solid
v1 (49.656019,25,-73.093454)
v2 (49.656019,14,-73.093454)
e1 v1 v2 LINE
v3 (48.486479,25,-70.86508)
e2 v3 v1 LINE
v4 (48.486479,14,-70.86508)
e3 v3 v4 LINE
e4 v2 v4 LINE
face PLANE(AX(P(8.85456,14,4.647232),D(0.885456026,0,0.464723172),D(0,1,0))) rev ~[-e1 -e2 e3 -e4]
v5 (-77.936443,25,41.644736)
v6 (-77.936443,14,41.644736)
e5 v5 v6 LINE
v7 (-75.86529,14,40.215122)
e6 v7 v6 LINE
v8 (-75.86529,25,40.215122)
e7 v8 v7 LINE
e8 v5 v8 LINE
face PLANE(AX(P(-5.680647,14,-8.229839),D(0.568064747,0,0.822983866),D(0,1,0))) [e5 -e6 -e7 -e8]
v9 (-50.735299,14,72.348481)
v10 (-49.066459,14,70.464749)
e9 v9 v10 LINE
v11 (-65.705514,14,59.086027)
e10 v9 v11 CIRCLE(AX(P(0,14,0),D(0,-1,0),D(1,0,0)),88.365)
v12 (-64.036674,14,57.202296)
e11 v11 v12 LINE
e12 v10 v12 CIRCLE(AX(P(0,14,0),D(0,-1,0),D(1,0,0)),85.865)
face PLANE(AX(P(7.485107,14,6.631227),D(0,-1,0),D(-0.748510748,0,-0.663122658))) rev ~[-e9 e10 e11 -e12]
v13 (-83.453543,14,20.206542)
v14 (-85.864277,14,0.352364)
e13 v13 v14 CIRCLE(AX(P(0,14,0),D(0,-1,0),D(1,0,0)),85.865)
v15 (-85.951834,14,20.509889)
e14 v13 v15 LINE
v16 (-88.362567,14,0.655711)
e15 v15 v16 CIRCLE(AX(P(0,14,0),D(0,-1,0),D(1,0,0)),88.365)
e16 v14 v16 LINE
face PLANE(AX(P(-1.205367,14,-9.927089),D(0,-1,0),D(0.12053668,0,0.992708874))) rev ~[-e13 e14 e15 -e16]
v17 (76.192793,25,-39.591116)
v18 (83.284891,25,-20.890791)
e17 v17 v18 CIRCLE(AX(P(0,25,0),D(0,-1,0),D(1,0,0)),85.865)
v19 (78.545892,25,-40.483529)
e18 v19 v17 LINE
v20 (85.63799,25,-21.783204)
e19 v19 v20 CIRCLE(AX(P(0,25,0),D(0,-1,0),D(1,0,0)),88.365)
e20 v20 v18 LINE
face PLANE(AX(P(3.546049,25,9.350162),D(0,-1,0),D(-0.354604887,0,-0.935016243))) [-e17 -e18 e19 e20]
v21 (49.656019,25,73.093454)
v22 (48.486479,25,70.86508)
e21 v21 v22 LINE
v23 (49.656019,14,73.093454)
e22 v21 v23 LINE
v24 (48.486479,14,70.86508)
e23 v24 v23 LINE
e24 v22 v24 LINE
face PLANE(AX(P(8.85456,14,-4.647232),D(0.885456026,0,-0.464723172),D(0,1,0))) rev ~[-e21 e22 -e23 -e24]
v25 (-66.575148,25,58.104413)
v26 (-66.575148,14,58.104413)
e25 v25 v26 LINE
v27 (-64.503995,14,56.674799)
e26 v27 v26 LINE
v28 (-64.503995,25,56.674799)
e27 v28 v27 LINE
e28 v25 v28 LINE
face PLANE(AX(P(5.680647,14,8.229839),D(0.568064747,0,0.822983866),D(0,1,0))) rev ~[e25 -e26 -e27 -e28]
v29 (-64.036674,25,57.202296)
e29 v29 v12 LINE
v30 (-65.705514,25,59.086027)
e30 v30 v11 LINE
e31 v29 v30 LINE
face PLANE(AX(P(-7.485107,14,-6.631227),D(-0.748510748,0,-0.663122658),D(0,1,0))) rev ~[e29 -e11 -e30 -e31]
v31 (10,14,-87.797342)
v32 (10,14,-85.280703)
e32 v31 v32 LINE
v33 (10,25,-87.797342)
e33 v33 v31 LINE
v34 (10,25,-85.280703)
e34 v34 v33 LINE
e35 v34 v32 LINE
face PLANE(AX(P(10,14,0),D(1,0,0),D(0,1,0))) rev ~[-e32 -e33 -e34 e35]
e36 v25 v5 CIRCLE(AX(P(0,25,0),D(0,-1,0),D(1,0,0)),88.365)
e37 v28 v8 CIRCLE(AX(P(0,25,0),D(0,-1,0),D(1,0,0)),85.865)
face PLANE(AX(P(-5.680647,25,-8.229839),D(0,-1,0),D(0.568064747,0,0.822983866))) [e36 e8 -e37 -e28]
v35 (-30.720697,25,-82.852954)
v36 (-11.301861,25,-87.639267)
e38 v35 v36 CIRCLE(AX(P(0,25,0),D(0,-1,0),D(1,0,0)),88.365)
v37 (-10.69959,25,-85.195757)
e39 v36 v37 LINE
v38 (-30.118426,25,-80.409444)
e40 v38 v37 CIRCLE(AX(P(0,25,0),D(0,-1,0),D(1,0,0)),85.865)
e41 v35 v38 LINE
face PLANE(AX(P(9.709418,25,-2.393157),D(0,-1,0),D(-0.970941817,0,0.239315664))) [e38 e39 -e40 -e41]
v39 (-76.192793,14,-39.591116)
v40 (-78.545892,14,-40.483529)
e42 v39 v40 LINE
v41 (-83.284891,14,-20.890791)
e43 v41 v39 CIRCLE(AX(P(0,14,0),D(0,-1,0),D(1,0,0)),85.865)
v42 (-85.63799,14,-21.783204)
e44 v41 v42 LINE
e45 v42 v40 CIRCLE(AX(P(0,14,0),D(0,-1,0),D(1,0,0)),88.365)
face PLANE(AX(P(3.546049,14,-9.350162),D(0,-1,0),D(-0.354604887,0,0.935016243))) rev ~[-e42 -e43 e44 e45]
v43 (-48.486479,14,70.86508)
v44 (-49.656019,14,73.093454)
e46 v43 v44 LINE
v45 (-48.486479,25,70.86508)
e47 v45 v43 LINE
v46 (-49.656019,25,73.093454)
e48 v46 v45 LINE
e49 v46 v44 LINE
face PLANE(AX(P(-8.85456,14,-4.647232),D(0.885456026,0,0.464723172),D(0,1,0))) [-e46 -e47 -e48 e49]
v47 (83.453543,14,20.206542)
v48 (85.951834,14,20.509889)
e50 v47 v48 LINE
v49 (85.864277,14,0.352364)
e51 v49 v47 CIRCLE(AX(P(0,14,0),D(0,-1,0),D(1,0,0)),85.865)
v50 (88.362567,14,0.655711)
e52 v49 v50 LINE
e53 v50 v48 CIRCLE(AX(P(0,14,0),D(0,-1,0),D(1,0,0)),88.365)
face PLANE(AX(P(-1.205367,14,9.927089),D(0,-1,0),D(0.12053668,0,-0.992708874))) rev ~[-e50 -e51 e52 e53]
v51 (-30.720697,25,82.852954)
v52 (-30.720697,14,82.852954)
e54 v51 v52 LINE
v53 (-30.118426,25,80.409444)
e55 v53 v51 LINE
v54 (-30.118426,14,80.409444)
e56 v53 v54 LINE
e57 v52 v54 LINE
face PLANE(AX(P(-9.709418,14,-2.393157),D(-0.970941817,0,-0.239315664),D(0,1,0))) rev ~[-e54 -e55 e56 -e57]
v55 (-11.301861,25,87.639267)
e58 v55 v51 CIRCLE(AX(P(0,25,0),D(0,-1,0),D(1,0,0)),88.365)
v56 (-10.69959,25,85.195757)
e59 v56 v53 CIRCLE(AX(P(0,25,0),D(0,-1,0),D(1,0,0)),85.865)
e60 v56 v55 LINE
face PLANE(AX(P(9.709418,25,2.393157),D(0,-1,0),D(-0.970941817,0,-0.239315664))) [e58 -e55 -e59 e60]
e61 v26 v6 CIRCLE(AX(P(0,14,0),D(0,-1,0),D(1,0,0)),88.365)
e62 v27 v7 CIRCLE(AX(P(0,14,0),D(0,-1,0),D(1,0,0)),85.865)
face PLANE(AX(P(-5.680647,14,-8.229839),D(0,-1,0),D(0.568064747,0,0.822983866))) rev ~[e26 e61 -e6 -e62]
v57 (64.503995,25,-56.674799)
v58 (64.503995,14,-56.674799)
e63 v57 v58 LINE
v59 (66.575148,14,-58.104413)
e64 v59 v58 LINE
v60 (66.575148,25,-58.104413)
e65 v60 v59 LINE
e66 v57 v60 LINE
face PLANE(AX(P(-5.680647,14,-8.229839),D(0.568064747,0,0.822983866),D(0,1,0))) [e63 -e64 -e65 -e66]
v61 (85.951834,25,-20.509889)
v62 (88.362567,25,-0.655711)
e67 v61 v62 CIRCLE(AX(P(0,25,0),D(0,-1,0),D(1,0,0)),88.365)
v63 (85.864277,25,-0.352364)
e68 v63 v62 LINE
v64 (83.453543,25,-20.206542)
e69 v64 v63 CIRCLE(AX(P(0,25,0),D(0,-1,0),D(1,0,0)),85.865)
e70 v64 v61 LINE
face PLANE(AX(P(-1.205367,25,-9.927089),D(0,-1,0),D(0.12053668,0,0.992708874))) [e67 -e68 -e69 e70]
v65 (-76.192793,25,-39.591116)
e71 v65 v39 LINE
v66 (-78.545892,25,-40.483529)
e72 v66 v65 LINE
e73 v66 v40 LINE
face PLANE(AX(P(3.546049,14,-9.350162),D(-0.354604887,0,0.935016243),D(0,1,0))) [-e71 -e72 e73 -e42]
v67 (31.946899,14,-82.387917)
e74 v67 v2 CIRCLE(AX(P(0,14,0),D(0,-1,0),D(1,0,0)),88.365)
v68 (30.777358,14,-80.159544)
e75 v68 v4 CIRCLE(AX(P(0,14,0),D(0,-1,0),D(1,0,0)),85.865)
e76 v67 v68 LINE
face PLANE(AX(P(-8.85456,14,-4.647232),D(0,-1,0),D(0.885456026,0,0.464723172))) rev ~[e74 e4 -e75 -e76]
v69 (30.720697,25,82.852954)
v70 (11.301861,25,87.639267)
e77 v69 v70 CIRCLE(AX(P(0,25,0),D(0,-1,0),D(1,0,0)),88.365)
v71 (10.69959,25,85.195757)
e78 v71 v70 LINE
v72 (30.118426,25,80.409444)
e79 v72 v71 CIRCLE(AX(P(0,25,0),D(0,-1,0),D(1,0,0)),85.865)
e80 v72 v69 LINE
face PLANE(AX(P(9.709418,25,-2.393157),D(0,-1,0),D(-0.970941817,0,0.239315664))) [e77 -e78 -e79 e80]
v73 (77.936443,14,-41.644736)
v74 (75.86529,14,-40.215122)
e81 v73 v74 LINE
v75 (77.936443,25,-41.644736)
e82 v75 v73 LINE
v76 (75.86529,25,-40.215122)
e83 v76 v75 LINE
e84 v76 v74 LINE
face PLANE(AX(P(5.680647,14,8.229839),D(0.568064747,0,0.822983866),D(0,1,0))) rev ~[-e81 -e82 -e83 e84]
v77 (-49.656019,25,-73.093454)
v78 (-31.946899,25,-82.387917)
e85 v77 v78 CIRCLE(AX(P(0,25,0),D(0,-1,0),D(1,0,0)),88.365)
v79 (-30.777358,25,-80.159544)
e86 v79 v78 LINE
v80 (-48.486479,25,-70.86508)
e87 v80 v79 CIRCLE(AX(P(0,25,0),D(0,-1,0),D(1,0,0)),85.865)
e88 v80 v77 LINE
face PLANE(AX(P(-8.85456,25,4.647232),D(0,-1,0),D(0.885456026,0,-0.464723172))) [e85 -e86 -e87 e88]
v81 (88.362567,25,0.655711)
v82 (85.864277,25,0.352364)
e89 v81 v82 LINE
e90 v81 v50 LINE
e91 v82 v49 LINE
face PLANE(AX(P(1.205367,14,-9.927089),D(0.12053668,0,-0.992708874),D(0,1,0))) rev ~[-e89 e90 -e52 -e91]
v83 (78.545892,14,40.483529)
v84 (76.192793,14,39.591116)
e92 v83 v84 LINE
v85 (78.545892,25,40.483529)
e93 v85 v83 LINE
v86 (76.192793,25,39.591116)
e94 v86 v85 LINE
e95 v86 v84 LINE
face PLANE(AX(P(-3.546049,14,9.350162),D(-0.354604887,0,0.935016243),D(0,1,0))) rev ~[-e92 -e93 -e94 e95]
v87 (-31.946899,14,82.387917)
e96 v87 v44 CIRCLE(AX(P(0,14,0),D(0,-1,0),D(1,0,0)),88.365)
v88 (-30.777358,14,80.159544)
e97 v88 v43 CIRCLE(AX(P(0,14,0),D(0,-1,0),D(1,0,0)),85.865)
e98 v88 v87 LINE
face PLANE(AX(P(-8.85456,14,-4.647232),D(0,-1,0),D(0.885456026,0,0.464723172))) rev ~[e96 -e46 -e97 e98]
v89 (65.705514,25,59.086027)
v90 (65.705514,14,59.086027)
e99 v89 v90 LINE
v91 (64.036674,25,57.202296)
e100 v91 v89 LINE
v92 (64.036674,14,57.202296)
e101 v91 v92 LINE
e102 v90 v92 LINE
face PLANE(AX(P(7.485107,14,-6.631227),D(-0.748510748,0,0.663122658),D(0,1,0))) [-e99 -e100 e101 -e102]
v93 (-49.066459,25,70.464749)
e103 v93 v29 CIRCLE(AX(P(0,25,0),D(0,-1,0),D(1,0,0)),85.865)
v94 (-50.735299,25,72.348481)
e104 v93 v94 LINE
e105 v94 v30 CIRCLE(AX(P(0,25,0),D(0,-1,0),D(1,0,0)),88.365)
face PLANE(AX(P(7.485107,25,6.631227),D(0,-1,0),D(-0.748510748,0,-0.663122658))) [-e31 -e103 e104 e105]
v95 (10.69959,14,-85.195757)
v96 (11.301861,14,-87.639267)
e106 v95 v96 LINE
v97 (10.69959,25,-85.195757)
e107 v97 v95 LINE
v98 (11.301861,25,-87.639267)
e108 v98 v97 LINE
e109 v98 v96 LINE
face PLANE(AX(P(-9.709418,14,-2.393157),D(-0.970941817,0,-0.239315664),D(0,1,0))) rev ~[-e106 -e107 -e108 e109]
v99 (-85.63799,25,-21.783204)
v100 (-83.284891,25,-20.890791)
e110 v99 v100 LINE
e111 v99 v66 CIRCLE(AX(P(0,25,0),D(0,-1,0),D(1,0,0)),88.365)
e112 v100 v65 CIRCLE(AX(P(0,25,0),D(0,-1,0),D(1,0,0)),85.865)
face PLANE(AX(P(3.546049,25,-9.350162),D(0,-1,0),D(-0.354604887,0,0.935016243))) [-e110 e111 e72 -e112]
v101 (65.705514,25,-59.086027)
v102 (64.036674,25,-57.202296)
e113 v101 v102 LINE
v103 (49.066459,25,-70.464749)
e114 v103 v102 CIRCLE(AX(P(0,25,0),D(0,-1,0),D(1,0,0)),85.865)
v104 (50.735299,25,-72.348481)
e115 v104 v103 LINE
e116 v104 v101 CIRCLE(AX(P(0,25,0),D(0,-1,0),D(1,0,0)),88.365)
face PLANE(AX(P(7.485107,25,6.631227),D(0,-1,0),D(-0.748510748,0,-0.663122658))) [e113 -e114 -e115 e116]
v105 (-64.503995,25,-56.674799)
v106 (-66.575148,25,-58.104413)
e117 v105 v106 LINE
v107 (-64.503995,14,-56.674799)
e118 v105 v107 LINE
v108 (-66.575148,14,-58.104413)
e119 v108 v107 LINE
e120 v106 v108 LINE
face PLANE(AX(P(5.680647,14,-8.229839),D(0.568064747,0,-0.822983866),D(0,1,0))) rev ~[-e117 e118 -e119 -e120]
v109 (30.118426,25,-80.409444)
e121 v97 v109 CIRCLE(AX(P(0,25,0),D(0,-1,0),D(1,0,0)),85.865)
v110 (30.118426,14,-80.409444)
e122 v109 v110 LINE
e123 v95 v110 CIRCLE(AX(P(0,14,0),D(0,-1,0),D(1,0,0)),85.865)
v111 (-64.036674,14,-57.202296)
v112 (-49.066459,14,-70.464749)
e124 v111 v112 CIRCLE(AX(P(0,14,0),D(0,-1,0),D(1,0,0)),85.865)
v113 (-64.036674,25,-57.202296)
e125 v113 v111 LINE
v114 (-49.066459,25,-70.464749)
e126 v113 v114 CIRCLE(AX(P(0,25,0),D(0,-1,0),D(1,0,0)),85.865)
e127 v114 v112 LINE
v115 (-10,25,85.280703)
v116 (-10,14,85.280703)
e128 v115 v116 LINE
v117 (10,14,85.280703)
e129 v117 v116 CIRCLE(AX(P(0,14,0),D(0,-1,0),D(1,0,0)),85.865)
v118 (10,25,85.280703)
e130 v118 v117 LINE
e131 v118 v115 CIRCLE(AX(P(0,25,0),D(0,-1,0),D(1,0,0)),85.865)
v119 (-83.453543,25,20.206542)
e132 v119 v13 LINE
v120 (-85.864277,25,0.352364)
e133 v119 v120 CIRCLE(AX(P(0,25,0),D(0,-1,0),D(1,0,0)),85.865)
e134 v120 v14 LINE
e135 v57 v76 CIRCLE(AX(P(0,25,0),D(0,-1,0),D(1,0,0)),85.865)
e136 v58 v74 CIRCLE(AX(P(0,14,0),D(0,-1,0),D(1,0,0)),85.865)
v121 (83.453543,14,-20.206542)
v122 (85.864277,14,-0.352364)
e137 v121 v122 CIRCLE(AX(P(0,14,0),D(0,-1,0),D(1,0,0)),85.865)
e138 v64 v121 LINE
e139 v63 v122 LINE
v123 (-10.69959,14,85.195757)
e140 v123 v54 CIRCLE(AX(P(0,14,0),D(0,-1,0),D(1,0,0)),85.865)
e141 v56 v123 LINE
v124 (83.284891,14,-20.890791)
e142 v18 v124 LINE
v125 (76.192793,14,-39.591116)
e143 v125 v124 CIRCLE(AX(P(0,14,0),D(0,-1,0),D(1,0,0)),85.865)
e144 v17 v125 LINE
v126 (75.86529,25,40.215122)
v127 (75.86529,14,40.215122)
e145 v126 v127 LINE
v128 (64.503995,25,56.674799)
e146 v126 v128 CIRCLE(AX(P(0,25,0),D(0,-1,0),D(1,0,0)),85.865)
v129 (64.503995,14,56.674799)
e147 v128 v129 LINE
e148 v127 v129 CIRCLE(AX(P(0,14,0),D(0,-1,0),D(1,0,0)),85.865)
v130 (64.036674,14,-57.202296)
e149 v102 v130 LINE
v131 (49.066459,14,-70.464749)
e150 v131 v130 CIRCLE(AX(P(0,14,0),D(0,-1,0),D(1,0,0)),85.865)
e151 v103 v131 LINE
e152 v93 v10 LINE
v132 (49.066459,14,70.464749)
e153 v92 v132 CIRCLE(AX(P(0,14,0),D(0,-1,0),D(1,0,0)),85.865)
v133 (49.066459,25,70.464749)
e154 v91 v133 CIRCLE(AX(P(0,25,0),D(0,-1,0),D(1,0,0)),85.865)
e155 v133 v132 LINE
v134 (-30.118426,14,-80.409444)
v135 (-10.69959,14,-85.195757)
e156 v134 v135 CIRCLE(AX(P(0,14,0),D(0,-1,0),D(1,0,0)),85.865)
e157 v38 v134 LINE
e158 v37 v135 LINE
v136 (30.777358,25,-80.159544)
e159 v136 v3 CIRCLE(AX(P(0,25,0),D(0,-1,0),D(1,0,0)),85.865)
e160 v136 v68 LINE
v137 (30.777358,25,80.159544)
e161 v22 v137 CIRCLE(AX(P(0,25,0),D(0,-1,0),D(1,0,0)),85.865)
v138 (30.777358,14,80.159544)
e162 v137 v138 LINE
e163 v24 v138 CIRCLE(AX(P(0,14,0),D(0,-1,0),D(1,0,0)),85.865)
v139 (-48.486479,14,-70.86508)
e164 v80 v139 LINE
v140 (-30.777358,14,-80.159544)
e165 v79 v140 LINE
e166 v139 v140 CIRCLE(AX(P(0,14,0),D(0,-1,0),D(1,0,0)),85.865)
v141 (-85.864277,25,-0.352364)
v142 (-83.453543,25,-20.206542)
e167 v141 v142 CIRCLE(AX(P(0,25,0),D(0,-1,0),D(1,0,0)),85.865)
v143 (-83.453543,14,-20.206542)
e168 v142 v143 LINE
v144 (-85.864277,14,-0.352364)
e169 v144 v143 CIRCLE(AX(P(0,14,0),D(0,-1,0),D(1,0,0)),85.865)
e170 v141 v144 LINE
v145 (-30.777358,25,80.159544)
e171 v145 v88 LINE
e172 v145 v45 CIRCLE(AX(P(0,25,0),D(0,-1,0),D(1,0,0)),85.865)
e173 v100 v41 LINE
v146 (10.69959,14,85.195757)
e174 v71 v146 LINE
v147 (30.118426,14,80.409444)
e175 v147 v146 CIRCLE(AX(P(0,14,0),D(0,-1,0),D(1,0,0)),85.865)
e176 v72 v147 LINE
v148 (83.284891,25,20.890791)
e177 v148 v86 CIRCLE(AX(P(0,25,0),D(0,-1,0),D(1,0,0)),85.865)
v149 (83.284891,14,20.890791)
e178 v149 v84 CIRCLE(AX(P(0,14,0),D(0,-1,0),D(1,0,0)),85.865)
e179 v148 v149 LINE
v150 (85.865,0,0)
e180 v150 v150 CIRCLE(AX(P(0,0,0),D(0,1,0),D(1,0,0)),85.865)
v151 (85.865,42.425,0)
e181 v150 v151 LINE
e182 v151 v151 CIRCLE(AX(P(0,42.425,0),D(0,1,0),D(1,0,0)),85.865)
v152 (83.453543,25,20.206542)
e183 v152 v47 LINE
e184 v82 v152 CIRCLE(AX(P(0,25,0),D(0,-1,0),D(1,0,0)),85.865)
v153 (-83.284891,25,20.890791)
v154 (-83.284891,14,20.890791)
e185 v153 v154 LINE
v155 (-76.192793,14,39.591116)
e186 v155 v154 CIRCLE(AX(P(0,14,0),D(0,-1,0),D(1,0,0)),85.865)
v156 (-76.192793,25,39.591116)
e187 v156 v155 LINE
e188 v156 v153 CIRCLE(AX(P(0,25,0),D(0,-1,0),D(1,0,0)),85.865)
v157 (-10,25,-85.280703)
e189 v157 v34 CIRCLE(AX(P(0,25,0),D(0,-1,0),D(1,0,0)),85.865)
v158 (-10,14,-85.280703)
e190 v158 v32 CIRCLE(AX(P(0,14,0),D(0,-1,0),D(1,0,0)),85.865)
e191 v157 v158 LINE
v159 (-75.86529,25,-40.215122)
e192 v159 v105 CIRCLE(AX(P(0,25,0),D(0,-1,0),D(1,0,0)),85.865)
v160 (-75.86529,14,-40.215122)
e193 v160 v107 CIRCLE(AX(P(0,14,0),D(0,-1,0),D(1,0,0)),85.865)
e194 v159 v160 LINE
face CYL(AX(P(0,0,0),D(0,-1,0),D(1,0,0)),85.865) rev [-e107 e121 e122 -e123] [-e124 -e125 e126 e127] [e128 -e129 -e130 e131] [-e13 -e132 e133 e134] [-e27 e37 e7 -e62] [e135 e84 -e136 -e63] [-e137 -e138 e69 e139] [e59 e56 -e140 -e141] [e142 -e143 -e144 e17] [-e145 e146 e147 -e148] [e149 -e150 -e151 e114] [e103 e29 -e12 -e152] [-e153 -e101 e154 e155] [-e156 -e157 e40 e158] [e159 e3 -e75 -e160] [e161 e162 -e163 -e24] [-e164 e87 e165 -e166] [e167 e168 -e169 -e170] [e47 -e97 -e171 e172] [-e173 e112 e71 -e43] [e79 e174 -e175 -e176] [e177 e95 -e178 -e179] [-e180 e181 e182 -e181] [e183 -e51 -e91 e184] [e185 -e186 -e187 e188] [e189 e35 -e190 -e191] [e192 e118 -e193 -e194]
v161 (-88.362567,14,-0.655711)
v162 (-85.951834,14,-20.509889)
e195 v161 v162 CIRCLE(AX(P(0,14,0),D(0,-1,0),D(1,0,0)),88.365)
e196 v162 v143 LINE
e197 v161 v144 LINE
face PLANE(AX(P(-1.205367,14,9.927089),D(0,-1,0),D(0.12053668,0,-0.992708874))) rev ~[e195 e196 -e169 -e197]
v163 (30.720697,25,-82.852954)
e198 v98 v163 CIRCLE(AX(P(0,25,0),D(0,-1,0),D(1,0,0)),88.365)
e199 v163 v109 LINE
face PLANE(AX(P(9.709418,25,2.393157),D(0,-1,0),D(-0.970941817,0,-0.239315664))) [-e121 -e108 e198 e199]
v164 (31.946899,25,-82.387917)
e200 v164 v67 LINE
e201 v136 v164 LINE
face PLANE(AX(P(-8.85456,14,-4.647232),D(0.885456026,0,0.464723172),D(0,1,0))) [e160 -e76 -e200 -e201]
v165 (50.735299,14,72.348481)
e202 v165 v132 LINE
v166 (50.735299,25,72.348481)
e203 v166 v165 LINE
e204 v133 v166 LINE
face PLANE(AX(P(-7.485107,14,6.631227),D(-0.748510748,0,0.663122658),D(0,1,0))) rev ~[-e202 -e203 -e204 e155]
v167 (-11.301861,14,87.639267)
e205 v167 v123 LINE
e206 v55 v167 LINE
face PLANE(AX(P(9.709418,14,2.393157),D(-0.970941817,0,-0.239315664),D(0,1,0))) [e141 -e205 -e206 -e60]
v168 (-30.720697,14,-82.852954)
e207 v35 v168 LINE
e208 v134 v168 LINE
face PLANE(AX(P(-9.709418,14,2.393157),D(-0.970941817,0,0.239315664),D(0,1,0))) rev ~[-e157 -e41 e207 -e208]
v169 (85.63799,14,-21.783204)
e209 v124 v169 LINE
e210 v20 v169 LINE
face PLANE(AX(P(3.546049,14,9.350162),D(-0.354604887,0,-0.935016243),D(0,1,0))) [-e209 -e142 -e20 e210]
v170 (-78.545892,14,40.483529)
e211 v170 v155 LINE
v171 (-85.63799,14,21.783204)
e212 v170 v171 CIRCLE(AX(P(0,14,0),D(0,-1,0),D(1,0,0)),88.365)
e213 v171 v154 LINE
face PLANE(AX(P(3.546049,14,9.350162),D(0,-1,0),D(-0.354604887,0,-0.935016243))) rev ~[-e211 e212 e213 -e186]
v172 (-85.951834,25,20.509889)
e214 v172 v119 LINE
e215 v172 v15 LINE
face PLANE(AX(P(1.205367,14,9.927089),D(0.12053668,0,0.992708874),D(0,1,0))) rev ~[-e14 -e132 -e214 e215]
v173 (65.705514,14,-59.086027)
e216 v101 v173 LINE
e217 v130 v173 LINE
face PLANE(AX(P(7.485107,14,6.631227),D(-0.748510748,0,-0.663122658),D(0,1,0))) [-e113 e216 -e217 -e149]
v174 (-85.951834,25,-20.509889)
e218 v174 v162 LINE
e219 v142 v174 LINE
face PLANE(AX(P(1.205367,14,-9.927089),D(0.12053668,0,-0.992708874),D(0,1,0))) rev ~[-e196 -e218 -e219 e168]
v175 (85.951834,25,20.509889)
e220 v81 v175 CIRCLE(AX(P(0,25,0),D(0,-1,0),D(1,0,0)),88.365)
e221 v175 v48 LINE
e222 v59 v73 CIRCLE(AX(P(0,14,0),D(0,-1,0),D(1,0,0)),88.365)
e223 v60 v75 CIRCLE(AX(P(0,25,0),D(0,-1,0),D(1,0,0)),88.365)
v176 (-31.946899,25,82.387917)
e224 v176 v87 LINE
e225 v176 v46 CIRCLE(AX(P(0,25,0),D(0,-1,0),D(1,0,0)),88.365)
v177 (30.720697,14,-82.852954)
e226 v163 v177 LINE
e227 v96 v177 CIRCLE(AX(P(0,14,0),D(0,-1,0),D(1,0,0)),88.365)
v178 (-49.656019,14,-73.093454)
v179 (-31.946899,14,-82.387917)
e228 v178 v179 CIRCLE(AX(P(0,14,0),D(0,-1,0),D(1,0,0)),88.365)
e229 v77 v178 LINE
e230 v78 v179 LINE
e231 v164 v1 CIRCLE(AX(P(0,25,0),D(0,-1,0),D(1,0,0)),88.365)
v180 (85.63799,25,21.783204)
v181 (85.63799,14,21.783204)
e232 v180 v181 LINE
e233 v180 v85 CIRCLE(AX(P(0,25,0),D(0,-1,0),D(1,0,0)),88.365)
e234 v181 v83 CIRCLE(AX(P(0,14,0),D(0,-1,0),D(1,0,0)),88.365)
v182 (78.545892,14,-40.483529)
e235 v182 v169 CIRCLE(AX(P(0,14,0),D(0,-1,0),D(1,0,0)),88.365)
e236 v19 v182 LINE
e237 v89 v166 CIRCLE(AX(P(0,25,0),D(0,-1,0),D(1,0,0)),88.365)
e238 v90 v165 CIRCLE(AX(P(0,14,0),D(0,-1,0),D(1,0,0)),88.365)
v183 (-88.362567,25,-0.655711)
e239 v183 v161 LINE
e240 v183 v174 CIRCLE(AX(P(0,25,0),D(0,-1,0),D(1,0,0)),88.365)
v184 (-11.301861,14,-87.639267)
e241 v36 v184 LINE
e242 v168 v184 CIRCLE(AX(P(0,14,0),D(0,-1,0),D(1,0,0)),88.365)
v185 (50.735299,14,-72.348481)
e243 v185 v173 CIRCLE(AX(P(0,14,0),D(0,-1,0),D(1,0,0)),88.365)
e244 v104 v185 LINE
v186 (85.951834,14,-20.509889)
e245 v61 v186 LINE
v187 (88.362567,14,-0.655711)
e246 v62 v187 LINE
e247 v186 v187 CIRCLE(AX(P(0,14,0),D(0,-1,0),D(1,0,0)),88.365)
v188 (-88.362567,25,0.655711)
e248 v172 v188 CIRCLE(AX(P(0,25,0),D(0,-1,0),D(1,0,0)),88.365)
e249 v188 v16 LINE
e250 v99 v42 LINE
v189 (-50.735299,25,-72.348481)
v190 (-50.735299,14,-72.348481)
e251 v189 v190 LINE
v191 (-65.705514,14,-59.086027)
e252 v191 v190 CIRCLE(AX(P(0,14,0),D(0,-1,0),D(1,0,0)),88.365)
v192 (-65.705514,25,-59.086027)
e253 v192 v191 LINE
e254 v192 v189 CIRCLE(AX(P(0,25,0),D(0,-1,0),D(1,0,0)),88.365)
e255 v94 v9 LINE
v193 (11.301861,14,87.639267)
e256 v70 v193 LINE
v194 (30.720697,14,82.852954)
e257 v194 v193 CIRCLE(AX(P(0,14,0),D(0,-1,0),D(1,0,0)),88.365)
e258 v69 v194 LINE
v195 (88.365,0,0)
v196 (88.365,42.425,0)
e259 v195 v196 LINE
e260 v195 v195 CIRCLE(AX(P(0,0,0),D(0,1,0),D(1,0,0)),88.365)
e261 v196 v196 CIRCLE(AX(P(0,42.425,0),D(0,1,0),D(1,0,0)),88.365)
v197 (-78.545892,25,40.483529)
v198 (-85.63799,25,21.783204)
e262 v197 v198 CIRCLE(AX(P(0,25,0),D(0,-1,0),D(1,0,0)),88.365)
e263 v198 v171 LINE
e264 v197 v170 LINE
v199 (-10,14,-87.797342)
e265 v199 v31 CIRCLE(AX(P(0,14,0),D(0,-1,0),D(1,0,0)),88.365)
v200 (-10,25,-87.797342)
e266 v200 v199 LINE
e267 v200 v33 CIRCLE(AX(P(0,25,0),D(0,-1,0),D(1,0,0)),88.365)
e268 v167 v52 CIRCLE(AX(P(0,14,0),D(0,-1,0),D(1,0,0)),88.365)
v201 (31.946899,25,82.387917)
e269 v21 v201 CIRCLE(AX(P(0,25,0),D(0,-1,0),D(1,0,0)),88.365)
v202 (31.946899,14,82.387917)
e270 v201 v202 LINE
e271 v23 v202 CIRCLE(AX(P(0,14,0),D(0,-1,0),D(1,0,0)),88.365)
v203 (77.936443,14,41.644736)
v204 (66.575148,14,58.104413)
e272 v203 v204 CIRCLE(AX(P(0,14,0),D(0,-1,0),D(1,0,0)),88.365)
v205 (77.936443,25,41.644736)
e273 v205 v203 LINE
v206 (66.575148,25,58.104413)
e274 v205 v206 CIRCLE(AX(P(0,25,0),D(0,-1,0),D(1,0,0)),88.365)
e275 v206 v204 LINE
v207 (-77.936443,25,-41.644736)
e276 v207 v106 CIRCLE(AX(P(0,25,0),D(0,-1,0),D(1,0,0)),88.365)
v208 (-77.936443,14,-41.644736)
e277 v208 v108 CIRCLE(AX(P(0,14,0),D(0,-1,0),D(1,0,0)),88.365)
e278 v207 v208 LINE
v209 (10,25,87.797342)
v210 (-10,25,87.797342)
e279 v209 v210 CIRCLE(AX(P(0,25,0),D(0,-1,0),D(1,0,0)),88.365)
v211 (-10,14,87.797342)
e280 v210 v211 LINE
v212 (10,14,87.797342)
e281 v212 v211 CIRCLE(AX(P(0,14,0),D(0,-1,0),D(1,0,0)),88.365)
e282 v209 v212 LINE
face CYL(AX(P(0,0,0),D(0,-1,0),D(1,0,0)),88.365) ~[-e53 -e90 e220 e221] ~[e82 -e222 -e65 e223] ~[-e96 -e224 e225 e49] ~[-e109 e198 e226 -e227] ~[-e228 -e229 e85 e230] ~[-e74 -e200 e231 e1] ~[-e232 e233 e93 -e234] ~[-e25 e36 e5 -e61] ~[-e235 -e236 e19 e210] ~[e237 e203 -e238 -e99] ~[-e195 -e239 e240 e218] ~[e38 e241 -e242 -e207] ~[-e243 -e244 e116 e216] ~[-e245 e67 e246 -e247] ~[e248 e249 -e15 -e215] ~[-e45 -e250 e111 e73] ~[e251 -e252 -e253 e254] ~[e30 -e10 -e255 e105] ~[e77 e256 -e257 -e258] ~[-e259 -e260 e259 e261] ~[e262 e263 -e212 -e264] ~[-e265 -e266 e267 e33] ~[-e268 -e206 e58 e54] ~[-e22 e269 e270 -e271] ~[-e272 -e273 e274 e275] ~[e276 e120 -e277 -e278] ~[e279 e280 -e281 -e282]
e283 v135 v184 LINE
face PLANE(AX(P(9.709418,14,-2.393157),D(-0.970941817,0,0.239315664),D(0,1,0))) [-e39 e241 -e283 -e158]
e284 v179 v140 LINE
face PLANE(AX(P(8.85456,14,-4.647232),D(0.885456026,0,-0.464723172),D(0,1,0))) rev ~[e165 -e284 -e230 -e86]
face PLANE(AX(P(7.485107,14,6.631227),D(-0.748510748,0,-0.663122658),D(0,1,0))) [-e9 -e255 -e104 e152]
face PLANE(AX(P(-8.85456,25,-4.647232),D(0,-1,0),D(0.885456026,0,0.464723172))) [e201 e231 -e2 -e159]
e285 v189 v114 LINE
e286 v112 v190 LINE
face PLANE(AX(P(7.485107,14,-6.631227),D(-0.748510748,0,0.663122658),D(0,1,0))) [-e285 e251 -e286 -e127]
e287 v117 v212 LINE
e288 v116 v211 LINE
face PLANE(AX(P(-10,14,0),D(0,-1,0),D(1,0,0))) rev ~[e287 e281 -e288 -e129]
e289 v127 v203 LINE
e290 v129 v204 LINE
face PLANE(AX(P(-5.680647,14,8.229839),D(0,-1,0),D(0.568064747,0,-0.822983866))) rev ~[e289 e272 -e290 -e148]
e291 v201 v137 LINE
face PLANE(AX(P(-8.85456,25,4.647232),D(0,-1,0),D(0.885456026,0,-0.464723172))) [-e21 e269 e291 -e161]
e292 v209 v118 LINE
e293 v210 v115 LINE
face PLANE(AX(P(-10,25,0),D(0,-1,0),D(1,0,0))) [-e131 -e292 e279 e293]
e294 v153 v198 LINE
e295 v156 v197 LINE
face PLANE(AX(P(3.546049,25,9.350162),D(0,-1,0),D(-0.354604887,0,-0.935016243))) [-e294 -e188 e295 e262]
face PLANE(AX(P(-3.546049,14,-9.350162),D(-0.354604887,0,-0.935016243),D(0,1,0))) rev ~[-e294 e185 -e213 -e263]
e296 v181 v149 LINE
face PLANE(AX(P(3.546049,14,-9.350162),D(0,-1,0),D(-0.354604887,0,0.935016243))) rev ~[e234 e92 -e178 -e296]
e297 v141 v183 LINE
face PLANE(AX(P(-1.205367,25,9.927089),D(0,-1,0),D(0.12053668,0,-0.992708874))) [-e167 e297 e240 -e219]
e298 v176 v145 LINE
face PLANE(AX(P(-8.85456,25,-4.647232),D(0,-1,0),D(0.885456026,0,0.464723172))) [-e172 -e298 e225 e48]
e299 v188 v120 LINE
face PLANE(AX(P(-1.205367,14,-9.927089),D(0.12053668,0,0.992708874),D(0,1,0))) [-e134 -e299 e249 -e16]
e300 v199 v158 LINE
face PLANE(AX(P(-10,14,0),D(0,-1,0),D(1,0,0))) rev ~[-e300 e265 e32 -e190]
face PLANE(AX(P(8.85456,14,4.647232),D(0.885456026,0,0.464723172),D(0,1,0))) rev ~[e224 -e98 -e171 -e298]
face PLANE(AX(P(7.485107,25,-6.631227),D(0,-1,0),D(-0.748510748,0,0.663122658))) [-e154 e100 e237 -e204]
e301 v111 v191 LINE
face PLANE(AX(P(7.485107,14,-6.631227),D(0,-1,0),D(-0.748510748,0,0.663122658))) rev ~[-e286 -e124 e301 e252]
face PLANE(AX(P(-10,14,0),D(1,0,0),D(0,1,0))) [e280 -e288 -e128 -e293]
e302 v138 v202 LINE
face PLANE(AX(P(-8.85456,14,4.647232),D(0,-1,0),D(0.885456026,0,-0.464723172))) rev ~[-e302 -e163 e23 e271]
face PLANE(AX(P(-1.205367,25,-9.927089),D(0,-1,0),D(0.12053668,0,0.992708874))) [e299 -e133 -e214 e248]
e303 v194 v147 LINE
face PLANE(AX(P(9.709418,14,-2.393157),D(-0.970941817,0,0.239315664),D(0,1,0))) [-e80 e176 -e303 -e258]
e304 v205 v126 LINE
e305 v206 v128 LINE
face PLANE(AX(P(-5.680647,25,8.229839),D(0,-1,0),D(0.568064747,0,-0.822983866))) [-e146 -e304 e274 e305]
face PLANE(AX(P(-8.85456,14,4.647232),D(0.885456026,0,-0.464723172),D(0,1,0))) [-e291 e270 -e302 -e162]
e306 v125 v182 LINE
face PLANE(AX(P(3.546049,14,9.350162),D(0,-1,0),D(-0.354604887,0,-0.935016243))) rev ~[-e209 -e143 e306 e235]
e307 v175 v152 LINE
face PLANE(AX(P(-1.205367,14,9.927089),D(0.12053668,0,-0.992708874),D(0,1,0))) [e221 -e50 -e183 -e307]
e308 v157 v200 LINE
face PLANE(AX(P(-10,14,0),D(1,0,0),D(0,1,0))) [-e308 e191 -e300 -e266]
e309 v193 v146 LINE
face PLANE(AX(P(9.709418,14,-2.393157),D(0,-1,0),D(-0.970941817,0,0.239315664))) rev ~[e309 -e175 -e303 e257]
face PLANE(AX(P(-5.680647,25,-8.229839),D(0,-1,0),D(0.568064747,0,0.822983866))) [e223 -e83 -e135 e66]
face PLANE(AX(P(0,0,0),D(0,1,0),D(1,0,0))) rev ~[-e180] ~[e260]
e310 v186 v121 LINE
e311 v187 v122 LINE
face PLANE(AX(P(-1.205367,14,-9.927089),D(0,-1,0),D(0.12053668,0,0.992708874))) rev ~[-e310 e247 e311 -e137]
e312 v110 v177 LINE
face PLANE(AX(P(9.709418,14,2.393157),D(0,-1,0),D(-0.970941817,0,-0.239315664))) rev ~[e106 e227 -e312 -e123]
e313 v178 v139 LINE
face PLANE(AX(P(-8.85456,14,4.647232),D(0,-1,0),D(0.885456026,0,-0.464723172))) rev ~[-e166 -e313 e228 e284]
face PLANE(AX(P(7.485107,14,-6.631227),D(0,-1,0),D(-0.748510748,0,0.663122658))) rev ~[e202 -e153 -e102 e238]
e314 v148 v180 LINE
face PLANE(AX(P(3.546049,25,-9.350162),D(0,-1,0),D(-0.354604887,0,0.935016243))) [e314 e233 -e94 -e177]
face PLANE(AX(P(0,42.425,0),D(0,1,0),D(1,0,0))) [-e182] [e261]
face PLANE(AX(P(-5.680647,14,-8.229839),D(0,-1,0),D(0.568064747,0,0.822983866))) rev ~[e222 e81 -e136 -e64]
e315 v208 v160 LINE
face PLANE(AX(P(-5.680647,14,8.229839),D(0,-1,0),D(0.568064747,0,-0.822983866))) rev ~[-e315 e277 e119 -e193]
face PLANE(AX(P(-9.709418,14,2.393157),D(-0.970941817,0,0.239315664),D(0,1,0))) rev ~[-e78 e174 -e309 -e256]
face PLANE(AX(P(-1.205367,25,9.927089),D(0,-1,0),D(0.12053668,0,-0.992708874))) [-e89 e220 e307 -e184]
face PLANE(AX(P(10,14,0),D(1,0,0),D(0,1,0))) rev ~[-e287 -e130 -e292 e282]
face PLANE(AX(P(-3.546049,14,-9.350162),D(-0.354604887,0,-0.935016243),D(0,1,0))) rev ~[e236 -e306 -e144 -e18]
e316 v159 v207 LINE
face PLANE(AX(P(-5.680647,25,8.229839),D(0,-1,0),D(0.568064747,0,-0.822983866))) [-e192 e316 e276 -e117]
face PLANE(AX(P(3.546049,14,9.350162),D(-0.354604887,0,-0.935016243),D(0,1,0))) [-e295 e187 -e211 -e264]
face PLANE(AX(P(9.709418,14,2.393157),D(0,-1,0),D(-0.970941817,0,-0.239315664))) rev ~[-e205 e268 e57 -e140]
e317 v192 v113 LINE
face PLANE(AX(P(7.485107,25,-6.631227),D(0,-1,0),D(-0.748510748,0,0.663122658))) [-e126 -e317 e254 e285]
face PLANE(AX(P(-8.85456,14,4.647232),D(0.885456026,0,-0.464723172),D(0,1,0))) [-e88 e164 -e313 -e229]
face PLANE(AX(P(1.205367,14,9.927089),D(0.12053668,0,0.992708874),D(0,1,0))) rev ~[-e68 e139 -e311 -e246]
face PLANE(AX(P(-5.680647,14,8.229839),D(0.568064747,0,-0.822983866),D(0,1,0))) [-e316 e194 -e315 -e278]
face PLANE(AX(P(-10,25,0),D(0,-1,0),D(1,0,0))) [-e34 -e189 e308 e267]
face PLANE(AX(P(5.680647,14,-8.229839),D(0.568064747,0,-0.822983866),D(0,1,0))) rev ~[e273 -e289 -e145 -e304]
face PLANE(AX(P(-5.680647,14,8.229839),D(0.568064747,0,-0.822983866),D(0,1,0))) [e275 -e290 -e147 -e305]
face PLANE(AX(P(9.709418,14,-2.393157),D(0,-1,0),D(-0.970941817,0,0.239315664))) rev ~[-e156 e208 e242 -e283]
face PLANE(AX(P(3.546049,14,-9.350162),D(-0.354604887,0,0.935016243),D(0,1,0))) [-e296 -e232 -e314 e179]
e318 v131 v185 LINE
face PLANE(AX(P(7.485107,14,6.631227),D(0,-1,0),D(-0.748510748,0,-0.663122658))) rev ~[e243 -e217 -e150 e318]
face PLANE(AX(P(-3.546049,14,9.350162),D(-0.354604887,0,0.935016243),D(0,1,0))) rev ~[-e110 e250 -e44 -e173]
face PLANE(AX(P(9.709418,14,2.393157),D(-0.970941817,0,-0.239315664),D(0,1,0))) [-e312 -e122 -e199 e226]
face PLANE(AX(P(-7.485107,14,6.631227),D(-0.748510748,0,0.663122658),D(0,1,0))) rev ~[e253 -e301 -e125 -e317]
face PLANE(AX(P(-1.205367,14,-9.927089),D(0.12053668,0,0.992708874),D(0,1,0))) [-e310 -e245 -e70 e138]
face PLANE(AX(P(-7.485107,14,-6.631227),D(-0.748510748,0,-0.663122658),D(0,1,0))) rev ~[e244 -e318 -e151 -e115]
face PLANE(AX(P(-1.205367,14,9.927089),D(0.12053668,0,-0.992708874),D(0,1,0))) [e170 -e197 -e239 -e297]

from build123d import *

# Parameters (mm, degrees)
SKETCH1_R           = 88.365
SKETCH1_R_2         = 85.865
BOSS_EXTRUDE1_DEPTH = 42.425
SKETCH2_W           = 20
SKETCH2_H           = 11
CUT_EXTRUDE1_DEPTH  = 89.365
CIRPATTERN1_COUNT   = 13


with BuildPart() as part:
    # Sketch1 → Boss-Extrude1 (new body)
    with BuildSketch(Plane(origin=(0, 0, 0), x_dir=(1, 0, 0), z_dir=(0, 1, 0))):
        Circle(SKETCH1_R)
        Circle(SKETCH1_R_2, mode=Mode.SUBTRACT)
    extrude(amount=BOSS_EXTRUDE1_DEPTH)

    # Sketch2 → Cut-Extrude1 (cut, symmetric)
    with BuildSketch(Plane.XY):
        with Locations((0, 19.5)):
            Rectangle(SKETCH2_W, SKETCH2_H)
    cut_extrude1 = extrude(amount=CUT_EXTRUDE1_DEPTH, both=True, mode=Mode.SUBTRACT)

    # CirPattern1: Cut-Extrude1 ×13 about axis
    cirpattern1_axis = Axis((0, 0, 0), (0, 1, 0))
    for i in range(1, CIRPATTERN1_COUNT):
        add(cut_extrude1.rotate(cirpattern1_axis, i * 360 / CIRPATTERN1_COUNT), mode=Mode.SUBTRACT)


solid = part.part
